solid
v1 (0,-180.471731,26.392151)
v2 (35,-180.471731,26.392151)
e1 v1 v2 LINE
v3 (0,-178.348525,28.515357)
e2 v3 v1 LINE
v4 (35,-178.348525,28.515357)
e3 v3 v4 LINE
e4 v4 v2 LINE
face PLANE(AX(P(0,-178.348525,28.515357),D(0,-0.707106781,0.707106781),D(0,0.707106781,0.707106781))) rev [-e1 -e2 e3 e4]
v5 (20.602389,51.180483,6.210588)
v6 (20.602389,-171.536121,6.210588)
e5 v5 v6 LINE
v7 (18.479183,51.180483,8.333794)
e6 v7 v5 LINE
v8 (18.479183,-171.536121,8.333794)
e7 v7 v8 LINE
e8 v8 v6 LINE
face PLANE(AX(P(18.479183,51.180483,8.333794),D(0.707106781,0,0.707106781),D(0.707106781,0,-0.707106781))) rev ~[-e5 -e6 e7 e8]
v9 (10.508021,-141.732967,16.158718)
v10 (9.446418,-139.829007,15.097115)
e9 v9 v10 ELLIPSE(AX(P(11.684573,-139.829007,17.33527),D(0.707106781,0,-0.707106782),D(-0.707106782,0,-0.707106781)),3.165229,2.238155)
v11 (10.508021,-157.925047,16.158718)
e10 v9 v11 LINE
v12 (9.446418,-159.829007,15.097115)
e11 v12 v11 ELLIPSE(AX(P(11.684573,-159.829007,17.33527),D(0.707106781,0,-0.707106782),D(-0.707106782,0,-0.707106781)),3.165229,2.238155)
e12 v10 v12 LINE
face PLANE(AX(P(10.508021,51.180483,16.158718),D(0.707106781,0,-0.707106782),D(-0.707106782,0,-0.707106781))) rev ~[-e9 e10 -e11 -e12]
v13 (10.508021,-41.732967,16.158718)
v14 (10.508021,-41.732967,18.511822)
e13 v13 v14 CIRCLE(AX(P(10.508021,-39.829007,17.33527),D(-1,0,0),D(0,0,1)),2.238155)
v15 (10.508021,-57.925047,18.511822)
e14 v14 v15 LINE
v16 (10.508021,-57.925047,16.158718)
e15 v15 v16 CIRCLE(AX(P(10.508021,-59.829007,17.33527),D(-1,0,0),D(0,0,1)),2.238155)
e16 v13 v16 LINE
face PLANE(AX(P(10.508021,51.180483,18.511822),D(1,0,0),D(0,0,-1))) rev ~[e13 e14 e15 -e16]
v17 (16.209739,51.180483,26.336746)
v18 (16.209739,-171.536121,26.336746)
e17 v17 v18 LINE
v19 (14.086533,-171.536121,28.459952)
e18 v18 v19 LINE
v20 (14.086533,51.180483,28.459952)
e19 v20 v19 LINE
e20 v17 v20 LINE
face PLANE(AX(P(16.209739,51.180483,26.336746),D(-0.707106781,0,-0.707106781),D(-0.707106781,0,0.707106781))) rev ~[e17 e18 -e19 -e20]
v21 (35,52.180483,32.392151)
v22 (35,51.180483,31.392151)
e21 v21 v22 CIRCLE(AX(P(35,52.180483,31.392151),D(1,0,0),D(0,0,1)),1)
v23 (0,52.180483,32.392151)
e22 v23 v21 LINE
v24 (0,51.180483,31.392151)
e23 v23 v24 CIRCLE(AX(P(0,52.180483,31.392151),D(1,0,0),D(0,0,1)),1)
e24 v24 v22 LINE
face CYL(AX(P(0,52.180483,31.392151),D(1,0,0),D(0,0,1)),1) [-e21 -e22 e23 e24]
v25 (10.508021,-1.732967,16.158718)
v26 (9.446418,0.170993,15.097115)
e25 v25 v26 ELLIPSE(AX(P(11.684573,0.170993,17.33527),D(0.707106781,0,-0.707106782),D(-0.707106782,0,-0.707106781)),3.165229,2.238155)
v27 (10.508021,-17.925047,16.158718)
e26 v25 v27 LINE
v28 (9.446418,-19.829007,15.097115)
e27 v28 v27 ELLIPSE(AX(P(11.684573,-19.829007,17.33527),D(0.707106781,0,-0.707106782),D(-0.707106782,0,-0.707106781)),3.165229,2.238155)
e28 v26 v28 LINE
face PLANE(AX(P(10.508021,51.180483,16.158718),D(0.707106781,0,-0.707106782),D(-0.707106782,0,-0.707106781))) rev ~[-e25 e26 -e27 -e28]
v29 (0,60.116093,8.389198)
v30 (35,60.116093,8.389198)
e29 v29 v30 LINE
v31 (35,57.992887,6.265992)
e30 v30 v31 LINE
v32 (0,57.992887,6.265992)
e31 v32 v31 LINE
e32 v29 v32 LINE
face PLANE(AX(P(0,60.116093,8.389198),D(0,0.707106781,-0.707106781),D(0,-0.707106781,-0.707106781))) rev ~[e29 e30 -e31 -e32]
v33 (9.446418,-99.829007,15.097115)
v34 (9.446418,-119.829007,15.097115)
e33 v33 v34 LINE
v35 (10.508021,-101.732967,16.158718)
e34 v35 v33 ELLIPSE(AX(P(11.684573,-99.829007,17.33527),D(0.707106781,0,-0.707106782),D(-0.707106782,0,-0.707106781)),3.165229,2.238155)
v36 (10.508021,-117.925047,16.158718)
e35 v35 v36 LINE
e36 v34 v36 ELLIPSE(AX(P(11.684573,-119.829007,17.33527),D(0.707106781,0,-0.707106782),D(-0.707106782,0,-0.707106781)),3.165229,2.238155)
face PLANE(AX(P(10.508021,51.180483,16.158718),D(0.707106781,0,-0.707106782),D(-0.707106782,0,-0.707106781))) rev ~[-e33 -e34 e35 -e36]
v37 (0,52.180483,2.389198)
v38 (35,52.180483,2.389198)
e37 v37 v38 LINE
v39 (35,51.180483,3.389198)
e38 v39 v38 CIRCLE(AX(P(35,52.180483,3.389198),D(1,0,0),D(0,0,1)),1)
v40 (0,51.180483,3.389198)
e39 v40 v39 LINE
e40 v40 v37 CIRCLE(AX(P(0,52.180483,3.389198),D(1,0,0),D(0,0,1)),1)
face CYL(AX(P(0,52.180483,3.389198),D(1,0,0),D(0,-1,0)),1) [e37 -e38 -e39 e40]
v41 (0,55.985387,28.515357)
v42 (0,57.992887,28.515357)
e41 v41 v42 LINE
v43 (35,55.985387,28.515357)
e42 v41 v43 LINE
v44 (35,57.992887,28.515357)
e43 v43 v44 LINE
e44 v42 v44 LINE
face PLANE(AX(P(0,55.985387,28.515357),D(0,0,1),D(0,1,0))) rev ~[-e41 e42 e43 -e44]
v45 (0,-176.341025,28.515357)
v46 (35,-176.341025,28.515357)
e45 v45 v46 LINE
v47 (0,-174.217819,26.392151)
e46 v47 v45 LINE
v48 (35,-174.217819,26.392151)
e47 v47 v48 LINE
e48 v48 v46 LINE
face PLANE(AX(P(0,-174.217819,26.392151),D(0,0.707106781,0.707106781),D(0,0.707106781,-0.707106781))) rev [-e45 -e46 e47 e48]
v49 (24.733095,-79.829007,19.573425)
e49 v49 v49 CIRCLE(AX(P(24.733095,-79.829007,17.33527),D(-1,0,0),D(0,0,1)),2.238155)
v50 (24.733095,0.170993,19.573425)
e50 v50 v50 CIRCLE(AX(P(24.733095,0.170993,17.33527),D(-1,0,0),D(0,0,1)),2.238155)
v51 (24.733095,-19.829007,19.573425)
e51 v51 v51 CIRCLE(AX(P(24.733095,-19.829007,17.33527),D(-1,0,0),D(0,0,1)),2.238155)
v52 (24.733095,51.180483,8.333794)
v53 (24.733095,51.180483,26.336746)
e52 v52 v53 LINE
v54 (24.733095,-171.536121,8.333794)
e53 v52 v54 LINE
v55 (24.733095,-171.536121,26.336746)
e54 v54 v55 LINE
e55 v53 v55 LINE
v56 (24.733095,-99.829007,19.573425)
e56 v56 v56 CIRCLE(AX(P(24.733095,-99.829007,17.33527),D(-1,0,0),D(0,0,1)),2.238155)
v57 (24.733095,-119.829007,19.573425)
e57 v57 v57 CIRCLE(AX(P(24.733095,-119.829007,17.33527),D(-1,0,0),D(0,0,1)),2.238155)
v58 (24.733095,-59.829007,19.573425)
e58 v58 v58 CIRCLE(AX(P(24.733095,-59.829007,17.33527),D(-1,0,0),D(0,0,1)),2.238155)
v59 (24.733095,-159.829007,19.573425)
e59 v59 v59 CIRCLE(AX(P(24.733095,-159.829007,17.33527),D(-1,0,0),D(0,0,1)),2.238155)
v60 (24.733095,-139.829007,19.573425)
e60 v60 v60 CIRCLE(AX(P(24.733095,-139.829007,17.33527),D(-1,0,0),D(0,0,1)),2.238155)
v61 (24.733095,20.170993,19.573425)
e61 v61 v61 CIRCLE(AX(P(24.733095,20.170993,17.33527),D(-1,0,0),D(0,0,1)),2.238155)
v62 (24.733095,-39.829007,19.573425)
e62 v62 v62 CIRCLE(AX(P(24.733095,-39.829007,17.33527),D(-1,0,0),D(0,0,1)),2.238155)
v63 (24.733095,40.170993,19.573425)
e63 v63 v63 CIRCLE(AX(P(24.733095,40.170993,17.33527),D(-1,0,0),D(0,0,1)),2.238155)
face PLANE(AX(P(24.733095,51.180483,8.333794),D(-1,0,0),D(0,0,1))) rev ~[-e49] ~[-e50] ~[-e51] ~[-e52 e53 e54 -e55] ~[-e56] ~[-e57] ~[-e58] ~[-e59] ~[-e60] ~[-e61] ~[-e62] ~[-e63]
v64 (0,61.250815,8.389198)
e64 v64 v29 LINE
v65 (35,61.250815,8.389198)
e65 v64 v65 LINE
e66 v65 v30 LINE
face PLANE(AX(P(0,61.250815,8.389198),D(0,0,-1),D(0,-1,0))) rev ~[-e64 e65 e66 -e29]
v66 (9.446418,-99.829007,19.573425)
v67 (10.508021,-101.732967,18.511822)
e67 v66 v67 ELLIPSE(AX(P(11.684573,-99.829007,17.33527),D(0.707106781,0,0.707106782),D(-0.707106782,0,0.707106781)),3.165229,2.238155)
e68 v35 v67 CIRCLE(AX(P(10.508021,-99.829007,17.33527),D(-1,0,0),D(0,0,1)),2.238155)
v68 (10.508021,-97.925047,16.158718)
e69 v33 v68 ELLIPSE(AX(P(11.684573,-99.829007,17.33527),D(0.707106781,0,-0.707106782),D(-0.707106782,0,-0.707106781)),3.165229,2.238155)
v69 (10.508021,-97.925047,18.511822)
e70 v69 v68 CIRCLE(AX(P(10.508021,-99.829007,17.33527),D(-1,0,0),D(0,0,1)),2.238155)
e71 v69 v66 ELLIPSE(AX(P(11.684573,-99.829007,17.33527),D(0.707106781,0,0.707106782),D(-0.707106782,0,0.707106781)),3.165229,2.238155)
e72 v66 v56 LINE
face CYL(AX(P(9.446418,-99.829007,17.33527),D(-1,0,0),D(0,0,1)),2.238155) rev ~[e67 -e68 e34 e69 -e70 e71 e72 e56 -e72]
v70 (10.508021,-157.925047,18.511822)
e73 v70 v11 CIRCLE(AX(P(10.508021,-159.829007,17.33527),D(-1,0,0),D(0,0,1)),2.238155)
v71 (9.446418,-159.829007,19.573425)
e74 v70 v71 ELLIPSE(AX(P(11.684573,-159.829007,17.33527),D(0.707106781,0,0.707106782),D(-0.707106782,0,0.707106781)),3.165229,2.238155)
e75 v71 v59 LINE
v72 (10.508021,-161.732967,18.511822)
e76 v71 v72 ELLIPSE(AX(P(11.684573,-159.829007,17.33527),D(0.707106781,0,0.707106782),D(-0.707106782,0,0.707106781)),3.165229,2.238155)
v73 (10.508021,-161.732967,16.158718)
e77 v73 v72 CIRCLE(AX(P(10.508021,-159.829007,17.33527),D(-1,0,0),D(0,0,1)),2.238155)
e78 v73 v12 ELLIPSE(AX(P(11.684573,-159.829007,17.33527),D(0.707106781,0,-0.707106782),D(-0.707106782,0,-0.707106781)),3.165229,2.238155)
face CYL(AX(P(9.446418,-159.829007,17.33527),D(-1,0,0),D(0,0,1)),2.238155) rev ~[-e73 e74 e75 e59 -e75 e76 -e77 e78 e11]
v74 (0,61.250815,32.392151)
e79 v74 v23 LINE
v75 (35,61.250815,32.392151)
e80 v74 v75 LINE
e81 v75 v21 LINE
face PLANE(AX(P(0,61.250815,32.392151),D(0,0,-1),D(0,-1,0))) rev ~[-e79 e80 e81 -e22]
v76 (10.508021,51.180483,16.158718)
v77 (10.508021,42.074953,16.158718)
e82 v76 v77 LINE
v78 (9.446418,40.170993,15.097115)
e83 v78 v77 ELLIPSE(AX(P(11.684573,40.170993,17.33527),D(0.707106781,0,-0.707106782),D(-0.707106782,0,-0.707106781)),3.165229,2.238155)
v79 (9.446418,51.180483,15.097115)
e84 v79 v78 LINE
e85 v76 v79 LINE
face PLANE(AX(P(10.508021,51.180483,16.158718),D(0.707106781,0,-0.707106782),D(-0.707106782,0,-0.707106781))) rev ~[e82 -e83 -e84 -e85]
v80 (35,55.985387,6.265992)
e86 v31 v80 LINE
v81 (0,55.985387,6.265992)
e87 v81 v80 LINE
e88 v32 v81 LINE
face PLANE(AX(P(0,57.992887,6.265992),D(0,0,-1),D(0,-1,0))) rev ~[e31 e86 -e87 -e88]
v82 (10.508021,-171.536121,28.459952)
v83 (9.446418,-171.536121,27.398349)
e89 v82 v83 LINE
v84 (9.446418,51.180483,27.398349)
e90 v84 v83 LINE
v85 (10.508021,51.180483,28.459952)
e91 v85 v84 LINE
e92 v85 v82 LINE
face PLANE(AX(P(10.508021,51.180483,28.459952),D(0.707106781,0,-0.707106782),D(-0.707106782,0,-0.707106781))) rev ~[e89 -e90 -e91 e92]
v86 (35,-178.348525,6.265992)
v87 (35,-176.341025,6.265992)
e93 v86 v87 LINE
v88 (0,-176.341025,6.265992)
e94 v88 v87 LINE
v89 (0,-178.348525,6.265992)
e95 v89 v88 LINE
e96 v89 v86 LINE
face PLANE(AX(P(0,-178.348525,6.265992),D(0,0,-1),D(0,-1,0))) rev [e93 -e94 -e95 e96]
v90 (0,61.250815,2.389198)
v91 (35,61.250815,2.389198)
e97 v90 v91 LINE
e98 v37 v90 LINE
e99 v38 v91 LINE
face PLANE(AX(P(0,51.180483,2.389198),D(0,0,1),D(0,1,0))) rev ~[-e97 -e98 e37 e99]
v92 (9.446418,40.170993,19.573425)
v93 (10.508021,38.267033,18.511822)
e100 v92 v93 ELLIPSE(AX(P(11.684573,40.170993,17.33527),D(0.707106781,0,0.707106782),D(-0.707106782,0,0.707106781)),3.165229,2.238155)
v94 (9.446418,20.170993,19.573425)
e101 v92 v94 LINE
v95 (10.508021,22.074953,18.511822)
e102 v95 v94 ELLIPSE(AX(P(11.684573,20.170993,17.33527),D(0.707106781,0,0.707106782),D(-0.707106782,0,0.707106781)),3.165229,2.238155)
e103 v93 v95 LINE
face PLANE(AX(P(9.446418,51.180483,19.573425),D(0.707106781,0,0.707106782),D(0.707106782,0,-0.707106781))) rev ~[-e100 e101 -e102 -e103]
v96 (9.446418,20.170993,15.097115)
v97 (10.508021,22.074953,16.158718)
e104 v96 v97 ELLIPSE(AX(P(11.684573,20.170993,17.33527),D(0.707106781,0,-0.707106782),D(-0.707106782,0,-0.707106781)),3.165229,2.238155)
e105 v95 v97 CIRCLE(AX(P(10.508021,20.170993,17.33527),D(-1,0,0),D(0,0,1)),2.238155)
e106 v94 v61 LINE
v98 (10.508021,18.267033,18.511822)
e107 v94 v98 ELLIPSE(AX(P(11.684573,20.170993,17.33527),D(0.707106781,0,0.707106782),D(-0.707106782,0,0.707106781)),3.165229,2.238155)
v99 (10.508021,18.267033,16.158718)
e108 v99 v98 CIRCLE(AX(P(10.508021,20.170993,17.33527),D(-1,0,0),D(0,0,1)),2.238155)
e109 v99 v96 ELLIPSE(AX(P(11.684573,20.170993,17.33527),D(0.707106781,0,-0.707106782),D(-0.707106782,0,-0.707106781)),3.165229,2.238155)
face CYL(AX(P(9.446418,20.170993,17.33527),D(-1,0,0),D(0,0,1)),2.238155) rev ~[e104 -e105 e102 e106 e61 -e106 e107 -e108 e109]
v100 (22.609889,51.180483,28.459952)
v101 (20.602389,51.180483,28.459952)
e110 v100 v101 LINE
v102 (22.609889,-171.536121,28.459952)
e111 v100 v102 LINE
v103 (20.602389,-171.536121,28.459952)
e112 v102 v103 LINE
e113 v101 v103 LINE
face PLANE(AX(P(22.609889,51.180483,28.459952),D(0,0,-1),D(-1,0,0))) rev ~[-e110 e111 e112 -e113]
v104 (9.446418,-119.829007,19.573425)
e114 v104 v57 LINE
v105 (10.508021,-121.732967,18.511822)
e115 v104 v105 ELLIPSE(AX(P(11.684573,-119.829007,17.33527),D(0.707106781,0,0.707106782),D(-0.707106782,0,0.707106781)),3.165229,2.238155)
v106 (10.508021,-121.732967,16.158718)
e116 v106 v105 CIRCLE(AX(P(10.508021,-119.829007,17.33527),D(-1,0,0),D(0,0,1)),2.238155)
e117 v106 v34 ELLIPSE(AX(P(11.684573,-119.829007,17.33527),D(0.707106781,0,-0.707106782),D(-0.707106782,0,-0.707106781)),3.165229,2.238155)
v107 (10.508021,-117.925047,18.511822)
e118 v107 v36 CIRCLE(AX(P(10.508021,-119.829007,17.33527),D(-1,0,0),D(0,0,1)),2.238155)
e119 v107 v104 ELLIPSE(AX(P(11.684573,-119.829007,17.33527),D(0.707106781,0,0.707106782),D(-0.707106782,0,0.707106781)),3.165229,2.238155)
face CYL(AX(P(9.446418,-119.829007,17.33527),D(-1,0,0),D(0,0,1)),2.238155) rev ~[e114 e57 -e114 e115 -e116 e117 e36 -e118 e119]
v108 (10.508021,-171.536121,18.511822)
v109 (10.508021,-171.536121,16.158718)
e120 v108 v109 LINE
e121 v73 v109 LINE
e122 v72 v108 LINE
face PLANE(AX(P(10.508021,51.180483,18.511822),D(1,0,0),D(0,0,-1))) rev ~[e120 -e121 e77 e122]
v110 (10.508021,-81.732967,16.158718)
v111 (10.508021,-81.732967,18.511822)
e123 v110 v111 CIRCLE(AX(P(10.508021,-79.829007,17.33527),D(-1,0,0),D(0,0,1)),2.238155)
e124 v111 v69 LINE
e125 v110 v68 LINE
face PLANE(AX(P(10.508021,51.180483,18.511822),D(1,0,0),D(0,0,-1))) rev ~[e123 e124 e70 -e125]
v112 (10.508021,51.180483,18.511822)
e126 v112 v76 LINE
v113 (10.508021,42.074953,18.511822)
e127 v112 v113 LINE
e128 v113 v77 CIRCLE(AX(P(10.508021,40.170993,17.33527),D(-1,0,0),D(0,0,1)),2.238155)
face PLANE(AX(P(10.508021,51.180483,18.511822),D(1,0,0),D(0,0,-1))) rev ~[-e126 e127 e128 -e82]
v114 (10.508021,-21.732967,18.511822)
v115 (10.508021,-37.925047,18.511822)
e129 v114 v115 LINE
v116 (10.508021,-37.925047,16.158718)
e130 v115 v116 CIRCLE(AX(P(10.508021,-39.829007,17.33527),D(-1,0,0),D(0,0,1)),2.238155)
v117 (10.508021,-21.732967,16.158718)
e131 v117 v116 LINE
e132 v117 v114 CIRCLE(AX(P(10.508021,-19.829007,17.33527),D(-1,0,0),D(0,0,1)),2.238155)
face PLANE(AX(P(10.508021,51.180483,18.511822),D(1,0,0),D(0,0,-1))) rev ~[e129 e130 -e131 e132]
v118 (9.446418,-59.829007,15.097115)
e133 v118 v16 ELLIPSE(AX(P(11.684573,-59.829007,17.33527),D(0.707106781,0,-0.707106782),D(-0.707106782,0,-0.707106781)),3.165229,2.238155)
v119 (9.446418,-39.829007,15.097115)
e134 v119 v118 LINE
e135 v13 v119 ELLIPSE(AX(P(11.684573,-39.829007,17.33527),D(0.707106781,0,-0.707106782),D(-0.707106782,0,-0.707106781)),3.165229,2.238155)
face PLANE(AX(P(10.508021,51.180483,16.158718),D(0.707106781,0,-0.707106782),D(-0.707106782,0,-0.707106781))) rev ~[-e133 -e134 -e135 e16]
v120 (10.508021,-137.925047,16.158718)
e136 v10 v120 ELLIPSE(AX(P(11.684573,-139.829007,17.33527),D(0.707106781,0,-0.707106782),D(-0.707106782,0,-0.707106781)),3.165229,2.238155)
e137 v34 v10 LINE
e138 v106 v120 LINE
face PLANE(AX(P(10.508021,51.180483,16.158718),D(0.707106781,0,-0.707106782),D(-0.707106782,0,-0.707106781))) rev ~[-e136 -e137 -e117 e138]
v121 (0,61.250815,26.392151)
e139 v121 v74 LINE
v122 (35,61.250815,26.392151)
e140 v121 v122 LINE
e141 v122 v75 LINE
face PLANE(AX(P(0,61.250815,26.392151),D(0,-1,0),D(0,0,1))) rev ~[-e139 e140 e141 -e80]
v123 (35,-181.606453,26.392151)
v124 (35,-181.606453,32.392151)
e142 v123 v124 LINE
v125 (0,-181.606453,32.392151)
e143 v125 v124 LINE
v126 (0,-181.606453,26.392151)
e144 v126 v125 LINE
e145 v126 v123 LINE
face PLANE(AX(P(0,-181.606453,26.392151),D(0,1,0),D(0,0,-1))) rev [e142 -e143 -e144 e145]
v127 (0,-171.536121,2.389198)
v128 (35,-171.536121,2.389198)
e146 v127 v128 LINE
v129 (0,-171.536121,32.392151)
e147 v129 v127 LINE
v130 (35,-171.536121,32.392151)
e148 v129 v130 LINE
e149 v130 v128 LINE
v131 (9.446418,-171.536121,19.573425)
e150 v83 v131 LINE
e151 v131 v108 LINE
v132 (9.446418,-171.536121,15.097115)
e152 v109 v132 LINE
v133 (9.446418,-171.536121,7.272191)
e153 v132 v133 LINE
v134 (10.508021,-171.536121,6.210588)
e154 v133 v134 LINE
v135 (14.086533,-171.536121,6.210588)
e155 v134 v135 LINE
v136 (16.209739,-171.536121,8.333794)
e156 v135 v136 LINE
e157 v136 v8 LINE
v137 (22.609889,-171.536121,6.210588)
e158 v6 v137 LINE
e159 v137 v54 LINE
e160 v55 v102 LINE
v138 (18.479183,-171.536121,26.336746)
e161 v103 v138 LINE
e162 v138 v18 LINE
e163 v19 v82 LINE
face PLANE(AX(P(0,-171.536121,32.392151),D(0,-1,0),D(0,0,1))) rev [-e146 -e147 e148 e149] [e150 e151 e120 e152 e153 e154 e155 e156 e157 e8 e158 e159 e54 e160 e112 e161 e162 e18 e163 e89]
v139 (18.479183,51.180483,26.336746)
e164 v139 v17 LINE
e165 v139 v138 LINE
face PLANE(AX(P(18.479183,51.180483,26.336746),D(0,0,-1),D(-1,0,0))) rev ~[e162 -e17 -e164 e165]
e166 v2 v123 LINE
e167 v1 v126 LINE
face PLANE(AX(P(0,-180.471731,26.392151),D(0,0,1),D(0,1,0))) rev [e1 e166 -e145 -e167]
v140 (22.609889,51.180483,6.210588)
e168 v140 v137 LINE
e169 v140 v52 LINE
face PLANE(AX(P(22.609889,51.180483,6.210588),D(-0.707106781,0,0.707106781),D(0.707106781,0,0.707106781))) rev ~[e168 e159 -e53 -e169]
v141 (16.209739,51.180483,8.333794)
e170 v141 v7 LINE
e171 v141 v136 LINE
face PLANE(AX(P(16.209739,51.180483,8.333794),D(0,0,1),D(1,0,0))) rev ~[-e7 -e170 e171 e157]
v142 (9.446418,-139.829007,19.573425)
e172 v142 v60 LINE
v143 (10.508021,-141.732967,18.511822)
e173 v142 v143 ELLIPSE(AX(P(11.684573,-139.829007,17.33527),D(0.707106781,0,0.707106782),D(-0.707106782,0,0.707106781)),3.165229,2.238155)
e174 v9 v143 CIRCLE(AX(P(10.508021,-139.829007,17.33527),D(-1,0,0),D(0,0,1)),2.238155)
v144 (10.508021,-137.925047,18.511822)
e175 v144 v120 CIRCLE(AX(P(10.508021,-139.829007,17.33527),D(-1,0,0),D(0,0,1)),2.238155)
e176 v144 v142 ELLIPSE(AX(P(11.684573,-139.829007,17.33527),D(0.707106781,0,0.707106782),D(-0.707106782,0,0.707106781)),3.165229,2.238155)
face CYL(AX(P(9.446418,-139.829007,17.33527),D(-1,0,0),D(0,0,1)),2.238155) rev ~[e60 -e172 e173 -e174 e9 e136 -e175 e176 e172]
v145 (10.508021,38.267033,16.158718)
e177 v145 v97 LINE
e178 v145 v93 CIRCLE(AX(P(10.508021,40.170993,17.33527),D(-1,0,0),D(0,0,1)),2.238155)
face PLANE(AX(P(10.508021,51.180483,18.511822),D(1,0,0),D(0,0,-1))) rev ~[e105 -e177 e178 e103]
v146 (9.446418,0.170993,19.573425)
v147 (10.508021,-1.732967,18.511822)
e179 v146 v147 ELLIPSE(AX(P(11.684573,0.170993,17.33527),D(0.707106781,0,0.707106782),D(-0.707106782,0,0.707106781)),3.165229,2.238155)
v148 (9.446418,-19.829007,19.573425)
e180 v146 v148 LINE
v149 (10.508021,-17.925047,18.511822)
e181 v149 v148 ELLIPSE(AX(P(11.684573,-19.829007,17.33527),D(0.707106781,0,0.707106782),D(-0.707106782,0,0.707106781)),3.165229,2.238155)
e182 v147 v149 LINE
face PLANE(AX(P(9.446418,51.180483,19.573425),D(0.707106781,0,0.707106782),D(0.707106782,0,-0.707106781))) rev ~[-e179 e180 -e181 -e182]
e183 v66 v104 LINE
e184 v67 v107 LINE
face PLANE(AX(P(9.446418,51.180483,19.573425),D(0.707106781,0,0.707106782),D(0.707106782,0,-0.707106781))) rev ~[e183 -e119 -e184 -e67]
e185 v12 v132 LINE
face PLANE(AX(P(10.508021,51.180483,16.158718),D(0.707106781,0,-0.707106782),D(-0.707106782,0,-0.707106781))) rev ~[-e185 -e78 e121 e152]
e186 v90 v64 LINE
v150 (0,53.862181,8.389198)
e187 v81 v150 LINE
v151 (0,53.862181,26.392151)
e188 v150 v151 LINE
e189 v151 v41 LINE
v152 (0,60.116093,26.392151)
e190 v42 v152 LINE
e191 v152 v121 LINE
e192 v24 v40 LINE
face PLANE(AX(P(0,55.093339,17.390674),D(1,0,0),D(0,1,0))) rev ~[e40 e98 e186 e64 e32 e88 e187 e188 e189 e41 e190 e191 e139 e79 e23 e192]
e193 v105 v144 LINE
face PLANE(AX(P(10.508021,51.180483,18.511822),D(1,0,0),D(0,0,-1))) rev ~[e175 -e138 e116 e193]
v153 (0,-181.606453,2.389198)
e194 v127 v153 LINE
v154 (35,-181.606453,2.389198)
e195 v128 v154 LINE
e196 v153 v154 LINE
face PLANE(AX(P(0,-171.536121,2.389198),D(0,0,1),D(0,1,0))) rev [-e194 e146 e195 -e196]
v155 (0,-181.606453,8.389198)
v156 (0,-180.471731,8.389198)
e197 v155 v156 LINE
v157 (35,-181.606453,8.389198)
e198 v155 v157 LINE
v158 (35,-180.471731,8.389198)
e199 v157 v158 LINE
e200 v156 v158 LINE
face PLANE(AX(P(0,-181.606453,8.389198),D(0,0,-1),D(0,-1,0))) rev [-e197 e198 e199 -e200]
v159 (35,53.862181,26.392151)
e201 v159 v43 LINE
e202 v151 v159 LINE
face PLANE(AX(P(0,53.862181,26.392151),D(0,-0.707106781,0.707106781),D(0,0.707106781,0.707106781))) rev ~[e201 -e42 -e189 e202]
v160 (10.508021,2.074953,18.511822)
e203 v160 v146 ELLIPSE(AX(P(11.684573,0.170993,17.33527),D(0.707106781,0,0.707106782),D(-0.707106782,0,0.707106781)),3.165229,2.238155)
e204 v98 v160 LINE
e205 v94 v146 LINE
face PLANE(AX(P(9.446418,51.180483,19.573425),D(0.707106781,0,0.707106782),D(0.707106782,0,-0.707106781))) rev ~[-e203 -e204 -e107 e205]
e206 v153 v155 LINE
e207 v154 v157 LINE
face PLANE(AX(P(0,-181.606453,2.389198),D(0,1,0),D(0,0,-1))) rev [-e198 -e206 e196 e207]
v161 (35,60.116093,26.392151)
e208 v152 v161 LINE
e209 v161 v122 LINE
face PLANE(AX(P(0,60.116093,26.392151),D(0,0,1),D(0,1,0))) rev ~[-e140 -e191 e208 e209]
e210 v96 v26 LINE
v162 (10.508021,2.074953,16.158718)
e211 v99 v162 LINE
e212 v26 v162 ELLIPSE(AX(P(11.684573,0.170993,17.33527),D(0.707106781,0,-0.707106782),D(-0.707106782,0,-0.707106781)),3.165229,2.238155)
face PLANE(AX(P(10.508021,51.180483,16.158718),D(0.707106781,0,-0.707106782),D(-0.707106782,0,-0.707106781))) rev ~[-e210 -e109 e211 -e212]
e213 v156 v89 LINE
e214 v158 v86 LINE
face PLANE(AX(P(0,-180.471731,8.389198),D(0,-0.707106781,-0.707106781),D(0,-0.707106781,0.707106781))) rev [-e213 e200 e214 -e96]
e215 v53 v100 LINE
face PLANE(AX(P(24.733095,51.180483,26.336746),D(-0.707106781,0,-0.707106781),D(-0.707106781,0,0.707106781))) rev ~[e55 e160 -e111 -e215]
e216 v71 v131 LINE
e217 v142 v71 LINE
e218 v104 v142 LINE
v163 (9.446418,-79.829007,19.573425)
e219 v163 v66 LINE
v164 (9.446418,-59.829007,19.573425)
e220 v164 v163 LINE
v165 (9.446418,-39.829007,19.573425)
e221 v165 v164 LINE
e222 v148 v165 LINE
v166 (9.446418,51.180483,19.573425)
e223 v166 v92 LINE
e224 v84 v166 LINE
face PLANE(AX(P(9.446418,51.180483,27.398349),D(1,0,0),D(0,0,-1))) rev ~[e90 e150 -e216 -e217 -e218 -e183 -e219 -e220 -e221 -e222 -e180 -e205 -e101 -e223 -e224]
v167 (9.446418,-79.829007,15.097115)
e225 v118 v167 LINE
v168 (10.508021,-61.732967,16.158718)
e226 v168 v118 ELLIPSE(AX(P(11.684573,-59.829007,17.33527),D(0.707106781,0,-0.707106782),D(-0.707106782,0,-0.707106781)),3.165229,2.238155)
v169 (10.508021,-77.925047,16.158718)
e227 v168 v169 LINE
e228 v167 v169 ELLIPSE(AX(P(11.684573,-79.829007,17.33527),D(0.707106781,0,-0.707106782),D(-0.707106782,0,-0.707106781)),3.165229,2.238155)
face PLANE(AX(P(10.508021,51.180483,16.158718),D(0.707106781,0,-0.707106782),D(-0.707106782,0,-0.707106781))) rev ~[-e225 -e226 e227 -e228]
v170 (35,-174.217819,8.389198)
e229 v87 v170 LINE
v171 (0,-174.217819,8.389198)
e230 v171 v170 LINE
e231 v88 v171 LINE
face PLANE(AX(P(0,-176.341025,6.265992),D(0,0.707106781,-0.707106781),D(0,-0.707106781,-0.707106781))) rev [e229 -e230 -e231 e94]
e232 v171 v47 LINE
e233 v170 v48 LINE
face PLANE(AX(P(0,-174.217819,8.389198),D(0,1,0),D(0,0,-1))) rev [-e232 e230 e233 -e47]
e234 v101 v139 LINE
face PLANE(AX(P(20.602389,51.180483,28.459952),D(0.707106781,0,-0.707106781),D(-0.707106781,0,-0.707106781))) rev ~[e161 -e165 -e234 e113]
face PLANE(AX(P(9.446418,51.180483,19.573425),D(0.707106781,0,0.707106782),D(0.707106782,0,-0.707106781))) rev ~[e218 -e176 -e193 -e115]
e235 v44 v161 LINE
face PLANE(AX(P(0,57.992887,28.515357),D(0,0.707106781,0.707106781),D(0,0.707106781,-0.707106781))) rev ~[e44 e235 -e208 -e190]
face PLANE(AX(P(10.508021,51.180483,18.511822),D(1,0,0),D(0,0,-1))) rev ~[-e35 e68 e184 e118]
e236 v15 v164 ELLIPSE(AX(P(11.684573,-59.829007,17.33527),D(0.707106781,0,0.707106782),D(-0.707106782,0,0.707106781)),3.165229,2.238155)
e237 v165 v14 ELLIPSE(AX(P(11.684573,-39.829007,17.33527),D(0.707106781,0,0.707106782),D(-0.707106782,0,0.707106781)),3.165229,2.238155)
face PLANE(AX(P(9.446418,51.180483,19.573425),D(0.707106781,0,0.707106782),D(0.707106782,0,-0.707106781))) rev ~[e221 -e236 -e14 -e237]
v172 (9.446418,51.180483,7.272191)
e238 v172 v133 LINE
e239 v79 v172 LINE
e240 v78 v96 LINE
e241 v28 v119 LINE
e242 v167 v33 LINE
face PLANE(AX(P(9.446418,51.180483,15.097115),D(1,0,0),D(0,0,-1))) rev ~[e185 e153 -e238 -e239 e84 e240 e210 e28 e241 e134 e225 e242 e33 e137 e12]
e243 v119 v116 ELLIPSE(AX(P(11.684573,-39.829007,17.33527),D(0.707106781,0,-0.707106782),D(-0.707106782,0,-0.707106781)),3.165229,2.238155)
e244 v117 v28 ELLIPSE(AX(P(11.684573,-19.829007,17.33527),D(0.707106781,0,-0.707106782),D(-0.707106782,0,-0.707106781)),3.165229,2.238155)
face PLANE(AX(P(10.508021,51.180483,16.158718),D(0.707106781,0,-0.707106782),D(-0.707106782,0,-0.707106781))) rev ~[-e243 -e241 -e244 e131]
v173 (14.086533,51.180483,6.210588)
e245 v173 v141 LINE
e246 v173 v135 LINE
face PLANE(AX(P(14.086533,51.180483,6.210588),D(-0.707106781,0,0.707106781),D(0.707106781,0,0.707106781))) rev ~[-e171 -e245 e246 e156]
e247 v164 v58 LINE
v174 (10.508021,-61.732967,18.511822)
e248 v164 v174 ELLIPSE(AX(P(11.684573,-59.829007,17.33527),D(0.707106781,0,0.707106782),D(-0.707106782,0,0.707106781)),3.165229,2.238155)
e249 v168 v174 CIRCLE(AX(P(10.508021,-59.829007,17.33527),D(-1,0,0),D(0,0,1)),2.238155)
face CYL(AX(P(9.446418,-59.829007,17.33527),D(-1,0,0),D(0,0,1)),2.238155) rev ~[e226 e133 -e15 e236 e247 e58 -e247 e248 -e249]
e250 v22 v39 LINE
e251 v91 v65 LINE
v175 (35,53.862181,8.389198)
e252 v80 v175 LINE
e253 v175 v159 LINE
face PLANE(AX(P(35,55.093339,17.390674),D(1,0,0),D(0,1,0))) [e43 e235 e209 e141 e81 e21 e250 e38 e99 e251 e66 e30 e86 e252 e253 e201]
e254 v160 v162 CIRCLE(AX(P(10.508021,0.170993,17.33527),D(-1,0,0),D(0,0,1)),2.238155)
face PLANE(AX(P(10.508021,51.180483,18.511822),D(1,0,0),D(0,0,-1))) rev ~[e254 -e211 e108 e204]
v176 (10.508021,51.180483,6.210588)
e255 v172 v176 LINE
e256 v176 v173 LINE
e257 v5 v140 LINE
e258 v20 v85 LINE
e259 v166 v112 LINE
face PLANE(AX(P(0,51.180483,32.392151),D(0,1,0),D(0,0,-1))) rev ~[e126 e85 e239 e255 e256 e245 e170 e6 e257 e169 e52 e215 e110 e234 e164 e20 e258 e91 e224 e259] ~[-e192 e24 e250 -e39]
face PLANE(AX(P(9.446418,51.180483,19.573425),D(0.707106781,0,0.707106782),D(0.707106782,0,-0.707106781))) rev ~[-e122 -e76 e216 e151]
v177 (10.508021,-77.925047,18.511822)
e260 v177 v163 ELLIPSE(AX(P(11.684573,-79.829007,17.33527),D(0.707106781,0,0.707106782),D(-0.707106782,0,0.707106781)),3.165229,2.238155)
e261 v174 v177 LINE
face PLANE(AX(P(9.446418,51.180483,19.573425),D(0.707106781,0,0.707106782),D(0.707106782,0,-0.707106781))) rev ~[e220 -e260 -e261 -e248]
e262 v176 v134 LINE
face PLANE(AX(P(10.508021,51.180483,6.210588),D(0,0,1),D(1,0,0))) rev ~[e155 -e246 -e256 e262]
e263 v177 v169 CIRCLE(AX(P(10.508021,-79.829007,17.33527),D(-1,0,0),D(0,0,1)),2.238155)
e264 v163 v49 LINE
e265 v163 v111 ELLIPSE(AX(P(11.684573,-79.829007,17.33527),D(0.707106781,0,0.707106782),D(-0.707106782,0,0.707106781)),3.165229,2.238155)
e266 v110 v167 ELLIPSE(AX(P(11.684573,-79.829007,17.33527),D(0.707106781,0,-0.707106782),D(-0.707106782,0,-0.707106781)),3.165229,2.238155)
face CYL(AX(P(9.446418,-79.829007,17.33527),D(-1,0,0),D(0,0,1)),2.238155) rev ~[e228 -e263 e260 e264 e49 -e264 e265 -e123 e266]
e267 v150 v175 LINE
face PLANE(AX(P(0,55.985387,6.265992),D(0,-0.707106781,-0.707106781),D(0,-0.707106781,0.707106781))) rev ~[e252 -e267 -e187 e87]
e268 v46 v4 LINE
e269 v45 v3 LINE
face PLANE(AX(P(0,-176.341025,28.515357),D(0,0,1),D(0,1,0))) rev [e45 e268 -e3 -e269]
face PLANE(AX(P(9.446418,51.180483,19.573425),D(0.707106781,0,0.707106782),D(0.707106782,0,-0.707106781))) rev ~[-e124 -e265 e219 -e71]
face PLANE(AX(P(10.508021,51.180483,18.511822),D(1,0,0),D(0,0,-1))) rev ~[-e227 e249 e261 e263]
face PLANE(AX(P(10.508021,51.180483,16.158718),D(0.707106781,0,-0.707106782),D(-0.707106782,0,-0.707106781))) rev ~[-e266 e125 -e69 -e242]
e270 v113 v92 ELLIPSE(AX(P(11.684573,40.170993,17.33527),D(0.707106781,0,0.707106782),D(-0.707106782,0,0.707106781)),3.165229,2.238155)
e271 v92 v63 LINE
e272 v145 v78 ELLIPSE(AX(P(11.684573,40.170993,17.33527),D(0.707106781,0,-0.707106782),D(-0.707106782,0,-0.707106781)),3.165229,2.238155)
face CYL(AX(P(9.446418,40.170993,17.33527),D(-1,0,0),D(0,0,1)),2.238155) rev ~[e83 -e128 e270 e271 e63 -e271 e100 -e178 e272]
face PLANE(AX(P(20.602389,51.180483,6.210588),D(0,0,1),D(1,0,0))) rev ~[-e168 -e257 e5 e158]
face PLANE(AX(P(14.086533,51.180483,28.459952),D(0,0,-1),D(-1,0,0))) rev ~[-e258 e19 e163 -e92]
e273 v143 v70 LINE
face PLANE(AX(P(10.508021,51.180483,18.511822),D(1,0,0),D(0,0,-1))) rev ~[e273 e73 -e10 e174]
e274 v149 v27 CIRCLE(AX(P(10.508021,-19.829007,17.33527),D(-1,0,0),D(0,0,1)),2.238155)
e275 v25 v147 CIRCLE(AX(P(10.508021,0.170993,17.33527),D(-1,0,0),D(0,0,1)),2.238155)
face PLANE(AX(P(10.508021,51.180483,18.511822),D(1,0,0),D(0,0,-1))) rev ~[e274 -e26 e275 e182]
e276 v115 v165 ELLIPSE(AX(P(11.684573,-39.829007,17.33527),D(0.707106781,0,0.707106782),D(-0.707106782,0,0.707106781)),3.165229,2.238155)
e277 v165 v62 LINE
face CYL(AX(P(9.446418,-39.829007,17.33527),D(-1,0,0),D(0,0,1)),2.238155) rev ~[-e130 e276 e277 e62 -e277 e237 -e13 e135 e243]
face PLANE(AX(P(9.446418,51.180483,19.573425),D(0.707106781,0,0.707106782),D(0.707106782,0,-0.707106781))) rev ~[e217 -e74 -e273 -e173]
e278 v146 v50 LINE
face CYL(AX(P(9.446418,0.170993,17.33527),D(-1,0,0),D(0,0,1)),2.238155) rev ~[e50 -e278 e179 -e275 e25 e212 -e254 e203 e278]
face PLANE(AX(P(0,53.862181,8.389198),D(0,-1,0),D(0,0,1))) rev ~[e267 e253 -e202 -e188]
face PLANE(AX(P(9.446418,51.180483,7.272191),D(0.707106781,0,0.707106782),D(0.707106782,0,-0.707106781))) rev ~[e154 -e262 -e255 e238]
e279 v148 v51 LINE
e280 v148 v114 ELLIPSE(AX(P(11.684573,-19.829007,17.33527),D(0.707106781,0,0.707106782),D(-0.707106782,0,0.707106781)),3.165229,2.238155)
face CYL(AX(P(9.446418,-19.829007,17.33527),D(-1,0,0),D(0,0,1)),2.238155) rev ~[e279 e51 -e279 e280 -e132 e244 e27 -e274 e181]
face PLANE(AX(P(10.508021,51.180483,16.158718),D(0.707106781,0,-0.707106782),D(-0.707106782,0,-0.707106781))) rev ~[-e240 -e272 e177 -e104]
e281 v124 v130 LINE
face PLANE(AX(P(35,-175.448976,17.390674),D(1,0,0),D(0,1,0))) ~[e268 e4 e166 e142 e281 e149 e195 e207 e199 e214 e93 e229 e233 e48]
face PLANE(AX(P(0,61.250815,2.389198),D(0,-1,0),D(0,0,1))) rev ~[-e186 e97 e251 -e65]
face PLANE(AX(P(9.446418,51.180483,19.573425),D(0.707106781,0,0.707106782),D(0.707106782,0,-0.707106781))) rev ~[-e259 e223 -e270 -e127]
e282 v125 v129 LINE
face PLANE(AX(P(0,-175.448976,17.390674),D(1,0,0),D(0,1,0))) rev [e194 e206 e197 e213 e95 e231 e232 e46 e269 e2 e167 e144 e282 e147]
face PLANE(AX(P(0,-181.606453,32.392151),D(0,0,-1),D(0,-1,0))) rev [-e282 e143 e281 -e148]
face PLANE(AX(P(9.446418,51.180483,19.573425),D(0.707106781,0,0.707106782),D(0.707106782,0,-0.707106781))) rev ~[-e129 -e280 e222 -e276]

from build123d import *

# Parameters (mm, degrees)
BOSS_EXTRUDE1_DEPTH = 35
FILLET1_R           = 1
BOSS_EXTRUDE2_DEPTH = 222.716603748
SKETCH6_R           = 2.238154979
CUT_EXTRUDE1_DEPTH  = 15.286677324


with BuildPart() as part:
    # Sketch1 → Boss-Extrude1 (new body)
    with BuildSketch(Plane.YZ):
        Polygon((60.116092999, 26.392150669), (61.250815122, 26.392150669), (61.250815122, 32.392150669), (51.18048308, 32.392150669), (51.18048308, 2.389198142), (61.250815122, 2.389198142), (61.250815122, 8.389198142), (60.116092999, 8.389198142), (57.992886952, 6.265992095), (55.985387253, 6.265992095), (53.862181206, 8.389198142), (53.862181206, 26.392150669), (55.985387253, 28.515356716), (57.992886952, 28.515356716), align=None)
    extrude(amount=BOSS_EXTRUDE1_DEPTH)


with BuildPart() as body_2:
    # Mirror4: mirrored copy
    add(part.part.mirror(Plane.ZX.offset(-60.177818794)))


with BuildPart() as part_1:
    add(part.part)

    # Fillet1
    fillet1_edges = [part_1.edges().sort_by_distance(p)[0] for p in [
        (17.5, 51.18048308, 2.389198142),
        (17.5, 51.18048308, 32.392150669),
    ]]
    fillet(fillet1_edges, radius=FILLET1_R)

    add(body_2.part)  # Boss-Extrude2 merges body 2
    # Sketch3 → Boss-Extrude2 (add)
    with BuildSketch(Plane.XZ.offset(-51.18048308)):
        Polygon((24.733095029, 8.333793818), (24.733095029, 26.336746345), (22.609888982, 28.459952392), (20.602389284, 28.459952392), (18.479183237, 26.336746345), (16.20973899, 26.336746345), (14.086532943, 28.459952392), (10.508020729, 28.459952392), (9.446417705, 27.398349369), (9.446417705, 19.57342506), (10.508020729, 18.511822037), (10.508020729, 16.158718126), (9.446417705, 15.097115103), (9.446417705, 7.272190794), (10.508020729, 6.210587771), (14.086532943, 6.210587771), (16.20973899, 8.333793818), (18.479183237, 8.333793818), (20.602389284, 6.210587771), (22.609888982, 6.210587771), align=None)
    extrude(amount=BOSS_EXTRUDE2_DEPTH)

    # Sketch6 → Cut-Extrude1 (cut)
    with BuildSketch(Plane(origin=(9.446417705, 0, 0), x_dir=(0, -1, 0), z_dir=(-1, 0, 0))):
        with Locations(Location((159.829006886, 17.335270082, 0), (0, 0, 90))):
            Circle(SKETCH6_R)
        with Locations(Location((139.829006886, 17.335270082, 0), (0, 0, 90))):
            Circle(SKETCH6_R)
        with Locations(Location((119.829006886, 17.335270082, 0), (0, 0, 90))):
            Circle(SKETCH6_R)
        with Locations(Location((99.829006886, 17.335270082, 0), (0, 0, 90))):
            Circle(SKETCH6_R)
        with Locations(Location((79.829006886, 17.335270082, 0), (0, 0, 90))):
            Circle(SKETCH6_R)
        with Locations(Location((59.829006886, 17.335270082, 0), (0, 0, 90))):
            Circle(SKETCH6_R)
        with Locations(Location((39.829006886, 17.335270082, 0), (0, 0, 90))):
            Circle(SKETCH6_R)
        with Locations(Location((19.829006886, 17.335270082, 0), (0, 0, 90))):
            Circle(SKETCH6_R)
        with Locations(Location((-0.170993114, 17.335270082, 0), (0, 0, 90))):
            Circle(SKETCH6_R)
        with Locations(Location((-20.170993114, 17.335270082, 0), (0, 0, 90))):
            Circle(SKETCH6_R)
        with Locations(Location((-40.170993114, 17.335270082, 0), (0, 0, 90))):
            Circle(SKETCH6_R)
    extrude(amount=-CUT_EXTRUDE1_DEPTH, mode=Mode.SUBTRACT)


solid = part_1.part
